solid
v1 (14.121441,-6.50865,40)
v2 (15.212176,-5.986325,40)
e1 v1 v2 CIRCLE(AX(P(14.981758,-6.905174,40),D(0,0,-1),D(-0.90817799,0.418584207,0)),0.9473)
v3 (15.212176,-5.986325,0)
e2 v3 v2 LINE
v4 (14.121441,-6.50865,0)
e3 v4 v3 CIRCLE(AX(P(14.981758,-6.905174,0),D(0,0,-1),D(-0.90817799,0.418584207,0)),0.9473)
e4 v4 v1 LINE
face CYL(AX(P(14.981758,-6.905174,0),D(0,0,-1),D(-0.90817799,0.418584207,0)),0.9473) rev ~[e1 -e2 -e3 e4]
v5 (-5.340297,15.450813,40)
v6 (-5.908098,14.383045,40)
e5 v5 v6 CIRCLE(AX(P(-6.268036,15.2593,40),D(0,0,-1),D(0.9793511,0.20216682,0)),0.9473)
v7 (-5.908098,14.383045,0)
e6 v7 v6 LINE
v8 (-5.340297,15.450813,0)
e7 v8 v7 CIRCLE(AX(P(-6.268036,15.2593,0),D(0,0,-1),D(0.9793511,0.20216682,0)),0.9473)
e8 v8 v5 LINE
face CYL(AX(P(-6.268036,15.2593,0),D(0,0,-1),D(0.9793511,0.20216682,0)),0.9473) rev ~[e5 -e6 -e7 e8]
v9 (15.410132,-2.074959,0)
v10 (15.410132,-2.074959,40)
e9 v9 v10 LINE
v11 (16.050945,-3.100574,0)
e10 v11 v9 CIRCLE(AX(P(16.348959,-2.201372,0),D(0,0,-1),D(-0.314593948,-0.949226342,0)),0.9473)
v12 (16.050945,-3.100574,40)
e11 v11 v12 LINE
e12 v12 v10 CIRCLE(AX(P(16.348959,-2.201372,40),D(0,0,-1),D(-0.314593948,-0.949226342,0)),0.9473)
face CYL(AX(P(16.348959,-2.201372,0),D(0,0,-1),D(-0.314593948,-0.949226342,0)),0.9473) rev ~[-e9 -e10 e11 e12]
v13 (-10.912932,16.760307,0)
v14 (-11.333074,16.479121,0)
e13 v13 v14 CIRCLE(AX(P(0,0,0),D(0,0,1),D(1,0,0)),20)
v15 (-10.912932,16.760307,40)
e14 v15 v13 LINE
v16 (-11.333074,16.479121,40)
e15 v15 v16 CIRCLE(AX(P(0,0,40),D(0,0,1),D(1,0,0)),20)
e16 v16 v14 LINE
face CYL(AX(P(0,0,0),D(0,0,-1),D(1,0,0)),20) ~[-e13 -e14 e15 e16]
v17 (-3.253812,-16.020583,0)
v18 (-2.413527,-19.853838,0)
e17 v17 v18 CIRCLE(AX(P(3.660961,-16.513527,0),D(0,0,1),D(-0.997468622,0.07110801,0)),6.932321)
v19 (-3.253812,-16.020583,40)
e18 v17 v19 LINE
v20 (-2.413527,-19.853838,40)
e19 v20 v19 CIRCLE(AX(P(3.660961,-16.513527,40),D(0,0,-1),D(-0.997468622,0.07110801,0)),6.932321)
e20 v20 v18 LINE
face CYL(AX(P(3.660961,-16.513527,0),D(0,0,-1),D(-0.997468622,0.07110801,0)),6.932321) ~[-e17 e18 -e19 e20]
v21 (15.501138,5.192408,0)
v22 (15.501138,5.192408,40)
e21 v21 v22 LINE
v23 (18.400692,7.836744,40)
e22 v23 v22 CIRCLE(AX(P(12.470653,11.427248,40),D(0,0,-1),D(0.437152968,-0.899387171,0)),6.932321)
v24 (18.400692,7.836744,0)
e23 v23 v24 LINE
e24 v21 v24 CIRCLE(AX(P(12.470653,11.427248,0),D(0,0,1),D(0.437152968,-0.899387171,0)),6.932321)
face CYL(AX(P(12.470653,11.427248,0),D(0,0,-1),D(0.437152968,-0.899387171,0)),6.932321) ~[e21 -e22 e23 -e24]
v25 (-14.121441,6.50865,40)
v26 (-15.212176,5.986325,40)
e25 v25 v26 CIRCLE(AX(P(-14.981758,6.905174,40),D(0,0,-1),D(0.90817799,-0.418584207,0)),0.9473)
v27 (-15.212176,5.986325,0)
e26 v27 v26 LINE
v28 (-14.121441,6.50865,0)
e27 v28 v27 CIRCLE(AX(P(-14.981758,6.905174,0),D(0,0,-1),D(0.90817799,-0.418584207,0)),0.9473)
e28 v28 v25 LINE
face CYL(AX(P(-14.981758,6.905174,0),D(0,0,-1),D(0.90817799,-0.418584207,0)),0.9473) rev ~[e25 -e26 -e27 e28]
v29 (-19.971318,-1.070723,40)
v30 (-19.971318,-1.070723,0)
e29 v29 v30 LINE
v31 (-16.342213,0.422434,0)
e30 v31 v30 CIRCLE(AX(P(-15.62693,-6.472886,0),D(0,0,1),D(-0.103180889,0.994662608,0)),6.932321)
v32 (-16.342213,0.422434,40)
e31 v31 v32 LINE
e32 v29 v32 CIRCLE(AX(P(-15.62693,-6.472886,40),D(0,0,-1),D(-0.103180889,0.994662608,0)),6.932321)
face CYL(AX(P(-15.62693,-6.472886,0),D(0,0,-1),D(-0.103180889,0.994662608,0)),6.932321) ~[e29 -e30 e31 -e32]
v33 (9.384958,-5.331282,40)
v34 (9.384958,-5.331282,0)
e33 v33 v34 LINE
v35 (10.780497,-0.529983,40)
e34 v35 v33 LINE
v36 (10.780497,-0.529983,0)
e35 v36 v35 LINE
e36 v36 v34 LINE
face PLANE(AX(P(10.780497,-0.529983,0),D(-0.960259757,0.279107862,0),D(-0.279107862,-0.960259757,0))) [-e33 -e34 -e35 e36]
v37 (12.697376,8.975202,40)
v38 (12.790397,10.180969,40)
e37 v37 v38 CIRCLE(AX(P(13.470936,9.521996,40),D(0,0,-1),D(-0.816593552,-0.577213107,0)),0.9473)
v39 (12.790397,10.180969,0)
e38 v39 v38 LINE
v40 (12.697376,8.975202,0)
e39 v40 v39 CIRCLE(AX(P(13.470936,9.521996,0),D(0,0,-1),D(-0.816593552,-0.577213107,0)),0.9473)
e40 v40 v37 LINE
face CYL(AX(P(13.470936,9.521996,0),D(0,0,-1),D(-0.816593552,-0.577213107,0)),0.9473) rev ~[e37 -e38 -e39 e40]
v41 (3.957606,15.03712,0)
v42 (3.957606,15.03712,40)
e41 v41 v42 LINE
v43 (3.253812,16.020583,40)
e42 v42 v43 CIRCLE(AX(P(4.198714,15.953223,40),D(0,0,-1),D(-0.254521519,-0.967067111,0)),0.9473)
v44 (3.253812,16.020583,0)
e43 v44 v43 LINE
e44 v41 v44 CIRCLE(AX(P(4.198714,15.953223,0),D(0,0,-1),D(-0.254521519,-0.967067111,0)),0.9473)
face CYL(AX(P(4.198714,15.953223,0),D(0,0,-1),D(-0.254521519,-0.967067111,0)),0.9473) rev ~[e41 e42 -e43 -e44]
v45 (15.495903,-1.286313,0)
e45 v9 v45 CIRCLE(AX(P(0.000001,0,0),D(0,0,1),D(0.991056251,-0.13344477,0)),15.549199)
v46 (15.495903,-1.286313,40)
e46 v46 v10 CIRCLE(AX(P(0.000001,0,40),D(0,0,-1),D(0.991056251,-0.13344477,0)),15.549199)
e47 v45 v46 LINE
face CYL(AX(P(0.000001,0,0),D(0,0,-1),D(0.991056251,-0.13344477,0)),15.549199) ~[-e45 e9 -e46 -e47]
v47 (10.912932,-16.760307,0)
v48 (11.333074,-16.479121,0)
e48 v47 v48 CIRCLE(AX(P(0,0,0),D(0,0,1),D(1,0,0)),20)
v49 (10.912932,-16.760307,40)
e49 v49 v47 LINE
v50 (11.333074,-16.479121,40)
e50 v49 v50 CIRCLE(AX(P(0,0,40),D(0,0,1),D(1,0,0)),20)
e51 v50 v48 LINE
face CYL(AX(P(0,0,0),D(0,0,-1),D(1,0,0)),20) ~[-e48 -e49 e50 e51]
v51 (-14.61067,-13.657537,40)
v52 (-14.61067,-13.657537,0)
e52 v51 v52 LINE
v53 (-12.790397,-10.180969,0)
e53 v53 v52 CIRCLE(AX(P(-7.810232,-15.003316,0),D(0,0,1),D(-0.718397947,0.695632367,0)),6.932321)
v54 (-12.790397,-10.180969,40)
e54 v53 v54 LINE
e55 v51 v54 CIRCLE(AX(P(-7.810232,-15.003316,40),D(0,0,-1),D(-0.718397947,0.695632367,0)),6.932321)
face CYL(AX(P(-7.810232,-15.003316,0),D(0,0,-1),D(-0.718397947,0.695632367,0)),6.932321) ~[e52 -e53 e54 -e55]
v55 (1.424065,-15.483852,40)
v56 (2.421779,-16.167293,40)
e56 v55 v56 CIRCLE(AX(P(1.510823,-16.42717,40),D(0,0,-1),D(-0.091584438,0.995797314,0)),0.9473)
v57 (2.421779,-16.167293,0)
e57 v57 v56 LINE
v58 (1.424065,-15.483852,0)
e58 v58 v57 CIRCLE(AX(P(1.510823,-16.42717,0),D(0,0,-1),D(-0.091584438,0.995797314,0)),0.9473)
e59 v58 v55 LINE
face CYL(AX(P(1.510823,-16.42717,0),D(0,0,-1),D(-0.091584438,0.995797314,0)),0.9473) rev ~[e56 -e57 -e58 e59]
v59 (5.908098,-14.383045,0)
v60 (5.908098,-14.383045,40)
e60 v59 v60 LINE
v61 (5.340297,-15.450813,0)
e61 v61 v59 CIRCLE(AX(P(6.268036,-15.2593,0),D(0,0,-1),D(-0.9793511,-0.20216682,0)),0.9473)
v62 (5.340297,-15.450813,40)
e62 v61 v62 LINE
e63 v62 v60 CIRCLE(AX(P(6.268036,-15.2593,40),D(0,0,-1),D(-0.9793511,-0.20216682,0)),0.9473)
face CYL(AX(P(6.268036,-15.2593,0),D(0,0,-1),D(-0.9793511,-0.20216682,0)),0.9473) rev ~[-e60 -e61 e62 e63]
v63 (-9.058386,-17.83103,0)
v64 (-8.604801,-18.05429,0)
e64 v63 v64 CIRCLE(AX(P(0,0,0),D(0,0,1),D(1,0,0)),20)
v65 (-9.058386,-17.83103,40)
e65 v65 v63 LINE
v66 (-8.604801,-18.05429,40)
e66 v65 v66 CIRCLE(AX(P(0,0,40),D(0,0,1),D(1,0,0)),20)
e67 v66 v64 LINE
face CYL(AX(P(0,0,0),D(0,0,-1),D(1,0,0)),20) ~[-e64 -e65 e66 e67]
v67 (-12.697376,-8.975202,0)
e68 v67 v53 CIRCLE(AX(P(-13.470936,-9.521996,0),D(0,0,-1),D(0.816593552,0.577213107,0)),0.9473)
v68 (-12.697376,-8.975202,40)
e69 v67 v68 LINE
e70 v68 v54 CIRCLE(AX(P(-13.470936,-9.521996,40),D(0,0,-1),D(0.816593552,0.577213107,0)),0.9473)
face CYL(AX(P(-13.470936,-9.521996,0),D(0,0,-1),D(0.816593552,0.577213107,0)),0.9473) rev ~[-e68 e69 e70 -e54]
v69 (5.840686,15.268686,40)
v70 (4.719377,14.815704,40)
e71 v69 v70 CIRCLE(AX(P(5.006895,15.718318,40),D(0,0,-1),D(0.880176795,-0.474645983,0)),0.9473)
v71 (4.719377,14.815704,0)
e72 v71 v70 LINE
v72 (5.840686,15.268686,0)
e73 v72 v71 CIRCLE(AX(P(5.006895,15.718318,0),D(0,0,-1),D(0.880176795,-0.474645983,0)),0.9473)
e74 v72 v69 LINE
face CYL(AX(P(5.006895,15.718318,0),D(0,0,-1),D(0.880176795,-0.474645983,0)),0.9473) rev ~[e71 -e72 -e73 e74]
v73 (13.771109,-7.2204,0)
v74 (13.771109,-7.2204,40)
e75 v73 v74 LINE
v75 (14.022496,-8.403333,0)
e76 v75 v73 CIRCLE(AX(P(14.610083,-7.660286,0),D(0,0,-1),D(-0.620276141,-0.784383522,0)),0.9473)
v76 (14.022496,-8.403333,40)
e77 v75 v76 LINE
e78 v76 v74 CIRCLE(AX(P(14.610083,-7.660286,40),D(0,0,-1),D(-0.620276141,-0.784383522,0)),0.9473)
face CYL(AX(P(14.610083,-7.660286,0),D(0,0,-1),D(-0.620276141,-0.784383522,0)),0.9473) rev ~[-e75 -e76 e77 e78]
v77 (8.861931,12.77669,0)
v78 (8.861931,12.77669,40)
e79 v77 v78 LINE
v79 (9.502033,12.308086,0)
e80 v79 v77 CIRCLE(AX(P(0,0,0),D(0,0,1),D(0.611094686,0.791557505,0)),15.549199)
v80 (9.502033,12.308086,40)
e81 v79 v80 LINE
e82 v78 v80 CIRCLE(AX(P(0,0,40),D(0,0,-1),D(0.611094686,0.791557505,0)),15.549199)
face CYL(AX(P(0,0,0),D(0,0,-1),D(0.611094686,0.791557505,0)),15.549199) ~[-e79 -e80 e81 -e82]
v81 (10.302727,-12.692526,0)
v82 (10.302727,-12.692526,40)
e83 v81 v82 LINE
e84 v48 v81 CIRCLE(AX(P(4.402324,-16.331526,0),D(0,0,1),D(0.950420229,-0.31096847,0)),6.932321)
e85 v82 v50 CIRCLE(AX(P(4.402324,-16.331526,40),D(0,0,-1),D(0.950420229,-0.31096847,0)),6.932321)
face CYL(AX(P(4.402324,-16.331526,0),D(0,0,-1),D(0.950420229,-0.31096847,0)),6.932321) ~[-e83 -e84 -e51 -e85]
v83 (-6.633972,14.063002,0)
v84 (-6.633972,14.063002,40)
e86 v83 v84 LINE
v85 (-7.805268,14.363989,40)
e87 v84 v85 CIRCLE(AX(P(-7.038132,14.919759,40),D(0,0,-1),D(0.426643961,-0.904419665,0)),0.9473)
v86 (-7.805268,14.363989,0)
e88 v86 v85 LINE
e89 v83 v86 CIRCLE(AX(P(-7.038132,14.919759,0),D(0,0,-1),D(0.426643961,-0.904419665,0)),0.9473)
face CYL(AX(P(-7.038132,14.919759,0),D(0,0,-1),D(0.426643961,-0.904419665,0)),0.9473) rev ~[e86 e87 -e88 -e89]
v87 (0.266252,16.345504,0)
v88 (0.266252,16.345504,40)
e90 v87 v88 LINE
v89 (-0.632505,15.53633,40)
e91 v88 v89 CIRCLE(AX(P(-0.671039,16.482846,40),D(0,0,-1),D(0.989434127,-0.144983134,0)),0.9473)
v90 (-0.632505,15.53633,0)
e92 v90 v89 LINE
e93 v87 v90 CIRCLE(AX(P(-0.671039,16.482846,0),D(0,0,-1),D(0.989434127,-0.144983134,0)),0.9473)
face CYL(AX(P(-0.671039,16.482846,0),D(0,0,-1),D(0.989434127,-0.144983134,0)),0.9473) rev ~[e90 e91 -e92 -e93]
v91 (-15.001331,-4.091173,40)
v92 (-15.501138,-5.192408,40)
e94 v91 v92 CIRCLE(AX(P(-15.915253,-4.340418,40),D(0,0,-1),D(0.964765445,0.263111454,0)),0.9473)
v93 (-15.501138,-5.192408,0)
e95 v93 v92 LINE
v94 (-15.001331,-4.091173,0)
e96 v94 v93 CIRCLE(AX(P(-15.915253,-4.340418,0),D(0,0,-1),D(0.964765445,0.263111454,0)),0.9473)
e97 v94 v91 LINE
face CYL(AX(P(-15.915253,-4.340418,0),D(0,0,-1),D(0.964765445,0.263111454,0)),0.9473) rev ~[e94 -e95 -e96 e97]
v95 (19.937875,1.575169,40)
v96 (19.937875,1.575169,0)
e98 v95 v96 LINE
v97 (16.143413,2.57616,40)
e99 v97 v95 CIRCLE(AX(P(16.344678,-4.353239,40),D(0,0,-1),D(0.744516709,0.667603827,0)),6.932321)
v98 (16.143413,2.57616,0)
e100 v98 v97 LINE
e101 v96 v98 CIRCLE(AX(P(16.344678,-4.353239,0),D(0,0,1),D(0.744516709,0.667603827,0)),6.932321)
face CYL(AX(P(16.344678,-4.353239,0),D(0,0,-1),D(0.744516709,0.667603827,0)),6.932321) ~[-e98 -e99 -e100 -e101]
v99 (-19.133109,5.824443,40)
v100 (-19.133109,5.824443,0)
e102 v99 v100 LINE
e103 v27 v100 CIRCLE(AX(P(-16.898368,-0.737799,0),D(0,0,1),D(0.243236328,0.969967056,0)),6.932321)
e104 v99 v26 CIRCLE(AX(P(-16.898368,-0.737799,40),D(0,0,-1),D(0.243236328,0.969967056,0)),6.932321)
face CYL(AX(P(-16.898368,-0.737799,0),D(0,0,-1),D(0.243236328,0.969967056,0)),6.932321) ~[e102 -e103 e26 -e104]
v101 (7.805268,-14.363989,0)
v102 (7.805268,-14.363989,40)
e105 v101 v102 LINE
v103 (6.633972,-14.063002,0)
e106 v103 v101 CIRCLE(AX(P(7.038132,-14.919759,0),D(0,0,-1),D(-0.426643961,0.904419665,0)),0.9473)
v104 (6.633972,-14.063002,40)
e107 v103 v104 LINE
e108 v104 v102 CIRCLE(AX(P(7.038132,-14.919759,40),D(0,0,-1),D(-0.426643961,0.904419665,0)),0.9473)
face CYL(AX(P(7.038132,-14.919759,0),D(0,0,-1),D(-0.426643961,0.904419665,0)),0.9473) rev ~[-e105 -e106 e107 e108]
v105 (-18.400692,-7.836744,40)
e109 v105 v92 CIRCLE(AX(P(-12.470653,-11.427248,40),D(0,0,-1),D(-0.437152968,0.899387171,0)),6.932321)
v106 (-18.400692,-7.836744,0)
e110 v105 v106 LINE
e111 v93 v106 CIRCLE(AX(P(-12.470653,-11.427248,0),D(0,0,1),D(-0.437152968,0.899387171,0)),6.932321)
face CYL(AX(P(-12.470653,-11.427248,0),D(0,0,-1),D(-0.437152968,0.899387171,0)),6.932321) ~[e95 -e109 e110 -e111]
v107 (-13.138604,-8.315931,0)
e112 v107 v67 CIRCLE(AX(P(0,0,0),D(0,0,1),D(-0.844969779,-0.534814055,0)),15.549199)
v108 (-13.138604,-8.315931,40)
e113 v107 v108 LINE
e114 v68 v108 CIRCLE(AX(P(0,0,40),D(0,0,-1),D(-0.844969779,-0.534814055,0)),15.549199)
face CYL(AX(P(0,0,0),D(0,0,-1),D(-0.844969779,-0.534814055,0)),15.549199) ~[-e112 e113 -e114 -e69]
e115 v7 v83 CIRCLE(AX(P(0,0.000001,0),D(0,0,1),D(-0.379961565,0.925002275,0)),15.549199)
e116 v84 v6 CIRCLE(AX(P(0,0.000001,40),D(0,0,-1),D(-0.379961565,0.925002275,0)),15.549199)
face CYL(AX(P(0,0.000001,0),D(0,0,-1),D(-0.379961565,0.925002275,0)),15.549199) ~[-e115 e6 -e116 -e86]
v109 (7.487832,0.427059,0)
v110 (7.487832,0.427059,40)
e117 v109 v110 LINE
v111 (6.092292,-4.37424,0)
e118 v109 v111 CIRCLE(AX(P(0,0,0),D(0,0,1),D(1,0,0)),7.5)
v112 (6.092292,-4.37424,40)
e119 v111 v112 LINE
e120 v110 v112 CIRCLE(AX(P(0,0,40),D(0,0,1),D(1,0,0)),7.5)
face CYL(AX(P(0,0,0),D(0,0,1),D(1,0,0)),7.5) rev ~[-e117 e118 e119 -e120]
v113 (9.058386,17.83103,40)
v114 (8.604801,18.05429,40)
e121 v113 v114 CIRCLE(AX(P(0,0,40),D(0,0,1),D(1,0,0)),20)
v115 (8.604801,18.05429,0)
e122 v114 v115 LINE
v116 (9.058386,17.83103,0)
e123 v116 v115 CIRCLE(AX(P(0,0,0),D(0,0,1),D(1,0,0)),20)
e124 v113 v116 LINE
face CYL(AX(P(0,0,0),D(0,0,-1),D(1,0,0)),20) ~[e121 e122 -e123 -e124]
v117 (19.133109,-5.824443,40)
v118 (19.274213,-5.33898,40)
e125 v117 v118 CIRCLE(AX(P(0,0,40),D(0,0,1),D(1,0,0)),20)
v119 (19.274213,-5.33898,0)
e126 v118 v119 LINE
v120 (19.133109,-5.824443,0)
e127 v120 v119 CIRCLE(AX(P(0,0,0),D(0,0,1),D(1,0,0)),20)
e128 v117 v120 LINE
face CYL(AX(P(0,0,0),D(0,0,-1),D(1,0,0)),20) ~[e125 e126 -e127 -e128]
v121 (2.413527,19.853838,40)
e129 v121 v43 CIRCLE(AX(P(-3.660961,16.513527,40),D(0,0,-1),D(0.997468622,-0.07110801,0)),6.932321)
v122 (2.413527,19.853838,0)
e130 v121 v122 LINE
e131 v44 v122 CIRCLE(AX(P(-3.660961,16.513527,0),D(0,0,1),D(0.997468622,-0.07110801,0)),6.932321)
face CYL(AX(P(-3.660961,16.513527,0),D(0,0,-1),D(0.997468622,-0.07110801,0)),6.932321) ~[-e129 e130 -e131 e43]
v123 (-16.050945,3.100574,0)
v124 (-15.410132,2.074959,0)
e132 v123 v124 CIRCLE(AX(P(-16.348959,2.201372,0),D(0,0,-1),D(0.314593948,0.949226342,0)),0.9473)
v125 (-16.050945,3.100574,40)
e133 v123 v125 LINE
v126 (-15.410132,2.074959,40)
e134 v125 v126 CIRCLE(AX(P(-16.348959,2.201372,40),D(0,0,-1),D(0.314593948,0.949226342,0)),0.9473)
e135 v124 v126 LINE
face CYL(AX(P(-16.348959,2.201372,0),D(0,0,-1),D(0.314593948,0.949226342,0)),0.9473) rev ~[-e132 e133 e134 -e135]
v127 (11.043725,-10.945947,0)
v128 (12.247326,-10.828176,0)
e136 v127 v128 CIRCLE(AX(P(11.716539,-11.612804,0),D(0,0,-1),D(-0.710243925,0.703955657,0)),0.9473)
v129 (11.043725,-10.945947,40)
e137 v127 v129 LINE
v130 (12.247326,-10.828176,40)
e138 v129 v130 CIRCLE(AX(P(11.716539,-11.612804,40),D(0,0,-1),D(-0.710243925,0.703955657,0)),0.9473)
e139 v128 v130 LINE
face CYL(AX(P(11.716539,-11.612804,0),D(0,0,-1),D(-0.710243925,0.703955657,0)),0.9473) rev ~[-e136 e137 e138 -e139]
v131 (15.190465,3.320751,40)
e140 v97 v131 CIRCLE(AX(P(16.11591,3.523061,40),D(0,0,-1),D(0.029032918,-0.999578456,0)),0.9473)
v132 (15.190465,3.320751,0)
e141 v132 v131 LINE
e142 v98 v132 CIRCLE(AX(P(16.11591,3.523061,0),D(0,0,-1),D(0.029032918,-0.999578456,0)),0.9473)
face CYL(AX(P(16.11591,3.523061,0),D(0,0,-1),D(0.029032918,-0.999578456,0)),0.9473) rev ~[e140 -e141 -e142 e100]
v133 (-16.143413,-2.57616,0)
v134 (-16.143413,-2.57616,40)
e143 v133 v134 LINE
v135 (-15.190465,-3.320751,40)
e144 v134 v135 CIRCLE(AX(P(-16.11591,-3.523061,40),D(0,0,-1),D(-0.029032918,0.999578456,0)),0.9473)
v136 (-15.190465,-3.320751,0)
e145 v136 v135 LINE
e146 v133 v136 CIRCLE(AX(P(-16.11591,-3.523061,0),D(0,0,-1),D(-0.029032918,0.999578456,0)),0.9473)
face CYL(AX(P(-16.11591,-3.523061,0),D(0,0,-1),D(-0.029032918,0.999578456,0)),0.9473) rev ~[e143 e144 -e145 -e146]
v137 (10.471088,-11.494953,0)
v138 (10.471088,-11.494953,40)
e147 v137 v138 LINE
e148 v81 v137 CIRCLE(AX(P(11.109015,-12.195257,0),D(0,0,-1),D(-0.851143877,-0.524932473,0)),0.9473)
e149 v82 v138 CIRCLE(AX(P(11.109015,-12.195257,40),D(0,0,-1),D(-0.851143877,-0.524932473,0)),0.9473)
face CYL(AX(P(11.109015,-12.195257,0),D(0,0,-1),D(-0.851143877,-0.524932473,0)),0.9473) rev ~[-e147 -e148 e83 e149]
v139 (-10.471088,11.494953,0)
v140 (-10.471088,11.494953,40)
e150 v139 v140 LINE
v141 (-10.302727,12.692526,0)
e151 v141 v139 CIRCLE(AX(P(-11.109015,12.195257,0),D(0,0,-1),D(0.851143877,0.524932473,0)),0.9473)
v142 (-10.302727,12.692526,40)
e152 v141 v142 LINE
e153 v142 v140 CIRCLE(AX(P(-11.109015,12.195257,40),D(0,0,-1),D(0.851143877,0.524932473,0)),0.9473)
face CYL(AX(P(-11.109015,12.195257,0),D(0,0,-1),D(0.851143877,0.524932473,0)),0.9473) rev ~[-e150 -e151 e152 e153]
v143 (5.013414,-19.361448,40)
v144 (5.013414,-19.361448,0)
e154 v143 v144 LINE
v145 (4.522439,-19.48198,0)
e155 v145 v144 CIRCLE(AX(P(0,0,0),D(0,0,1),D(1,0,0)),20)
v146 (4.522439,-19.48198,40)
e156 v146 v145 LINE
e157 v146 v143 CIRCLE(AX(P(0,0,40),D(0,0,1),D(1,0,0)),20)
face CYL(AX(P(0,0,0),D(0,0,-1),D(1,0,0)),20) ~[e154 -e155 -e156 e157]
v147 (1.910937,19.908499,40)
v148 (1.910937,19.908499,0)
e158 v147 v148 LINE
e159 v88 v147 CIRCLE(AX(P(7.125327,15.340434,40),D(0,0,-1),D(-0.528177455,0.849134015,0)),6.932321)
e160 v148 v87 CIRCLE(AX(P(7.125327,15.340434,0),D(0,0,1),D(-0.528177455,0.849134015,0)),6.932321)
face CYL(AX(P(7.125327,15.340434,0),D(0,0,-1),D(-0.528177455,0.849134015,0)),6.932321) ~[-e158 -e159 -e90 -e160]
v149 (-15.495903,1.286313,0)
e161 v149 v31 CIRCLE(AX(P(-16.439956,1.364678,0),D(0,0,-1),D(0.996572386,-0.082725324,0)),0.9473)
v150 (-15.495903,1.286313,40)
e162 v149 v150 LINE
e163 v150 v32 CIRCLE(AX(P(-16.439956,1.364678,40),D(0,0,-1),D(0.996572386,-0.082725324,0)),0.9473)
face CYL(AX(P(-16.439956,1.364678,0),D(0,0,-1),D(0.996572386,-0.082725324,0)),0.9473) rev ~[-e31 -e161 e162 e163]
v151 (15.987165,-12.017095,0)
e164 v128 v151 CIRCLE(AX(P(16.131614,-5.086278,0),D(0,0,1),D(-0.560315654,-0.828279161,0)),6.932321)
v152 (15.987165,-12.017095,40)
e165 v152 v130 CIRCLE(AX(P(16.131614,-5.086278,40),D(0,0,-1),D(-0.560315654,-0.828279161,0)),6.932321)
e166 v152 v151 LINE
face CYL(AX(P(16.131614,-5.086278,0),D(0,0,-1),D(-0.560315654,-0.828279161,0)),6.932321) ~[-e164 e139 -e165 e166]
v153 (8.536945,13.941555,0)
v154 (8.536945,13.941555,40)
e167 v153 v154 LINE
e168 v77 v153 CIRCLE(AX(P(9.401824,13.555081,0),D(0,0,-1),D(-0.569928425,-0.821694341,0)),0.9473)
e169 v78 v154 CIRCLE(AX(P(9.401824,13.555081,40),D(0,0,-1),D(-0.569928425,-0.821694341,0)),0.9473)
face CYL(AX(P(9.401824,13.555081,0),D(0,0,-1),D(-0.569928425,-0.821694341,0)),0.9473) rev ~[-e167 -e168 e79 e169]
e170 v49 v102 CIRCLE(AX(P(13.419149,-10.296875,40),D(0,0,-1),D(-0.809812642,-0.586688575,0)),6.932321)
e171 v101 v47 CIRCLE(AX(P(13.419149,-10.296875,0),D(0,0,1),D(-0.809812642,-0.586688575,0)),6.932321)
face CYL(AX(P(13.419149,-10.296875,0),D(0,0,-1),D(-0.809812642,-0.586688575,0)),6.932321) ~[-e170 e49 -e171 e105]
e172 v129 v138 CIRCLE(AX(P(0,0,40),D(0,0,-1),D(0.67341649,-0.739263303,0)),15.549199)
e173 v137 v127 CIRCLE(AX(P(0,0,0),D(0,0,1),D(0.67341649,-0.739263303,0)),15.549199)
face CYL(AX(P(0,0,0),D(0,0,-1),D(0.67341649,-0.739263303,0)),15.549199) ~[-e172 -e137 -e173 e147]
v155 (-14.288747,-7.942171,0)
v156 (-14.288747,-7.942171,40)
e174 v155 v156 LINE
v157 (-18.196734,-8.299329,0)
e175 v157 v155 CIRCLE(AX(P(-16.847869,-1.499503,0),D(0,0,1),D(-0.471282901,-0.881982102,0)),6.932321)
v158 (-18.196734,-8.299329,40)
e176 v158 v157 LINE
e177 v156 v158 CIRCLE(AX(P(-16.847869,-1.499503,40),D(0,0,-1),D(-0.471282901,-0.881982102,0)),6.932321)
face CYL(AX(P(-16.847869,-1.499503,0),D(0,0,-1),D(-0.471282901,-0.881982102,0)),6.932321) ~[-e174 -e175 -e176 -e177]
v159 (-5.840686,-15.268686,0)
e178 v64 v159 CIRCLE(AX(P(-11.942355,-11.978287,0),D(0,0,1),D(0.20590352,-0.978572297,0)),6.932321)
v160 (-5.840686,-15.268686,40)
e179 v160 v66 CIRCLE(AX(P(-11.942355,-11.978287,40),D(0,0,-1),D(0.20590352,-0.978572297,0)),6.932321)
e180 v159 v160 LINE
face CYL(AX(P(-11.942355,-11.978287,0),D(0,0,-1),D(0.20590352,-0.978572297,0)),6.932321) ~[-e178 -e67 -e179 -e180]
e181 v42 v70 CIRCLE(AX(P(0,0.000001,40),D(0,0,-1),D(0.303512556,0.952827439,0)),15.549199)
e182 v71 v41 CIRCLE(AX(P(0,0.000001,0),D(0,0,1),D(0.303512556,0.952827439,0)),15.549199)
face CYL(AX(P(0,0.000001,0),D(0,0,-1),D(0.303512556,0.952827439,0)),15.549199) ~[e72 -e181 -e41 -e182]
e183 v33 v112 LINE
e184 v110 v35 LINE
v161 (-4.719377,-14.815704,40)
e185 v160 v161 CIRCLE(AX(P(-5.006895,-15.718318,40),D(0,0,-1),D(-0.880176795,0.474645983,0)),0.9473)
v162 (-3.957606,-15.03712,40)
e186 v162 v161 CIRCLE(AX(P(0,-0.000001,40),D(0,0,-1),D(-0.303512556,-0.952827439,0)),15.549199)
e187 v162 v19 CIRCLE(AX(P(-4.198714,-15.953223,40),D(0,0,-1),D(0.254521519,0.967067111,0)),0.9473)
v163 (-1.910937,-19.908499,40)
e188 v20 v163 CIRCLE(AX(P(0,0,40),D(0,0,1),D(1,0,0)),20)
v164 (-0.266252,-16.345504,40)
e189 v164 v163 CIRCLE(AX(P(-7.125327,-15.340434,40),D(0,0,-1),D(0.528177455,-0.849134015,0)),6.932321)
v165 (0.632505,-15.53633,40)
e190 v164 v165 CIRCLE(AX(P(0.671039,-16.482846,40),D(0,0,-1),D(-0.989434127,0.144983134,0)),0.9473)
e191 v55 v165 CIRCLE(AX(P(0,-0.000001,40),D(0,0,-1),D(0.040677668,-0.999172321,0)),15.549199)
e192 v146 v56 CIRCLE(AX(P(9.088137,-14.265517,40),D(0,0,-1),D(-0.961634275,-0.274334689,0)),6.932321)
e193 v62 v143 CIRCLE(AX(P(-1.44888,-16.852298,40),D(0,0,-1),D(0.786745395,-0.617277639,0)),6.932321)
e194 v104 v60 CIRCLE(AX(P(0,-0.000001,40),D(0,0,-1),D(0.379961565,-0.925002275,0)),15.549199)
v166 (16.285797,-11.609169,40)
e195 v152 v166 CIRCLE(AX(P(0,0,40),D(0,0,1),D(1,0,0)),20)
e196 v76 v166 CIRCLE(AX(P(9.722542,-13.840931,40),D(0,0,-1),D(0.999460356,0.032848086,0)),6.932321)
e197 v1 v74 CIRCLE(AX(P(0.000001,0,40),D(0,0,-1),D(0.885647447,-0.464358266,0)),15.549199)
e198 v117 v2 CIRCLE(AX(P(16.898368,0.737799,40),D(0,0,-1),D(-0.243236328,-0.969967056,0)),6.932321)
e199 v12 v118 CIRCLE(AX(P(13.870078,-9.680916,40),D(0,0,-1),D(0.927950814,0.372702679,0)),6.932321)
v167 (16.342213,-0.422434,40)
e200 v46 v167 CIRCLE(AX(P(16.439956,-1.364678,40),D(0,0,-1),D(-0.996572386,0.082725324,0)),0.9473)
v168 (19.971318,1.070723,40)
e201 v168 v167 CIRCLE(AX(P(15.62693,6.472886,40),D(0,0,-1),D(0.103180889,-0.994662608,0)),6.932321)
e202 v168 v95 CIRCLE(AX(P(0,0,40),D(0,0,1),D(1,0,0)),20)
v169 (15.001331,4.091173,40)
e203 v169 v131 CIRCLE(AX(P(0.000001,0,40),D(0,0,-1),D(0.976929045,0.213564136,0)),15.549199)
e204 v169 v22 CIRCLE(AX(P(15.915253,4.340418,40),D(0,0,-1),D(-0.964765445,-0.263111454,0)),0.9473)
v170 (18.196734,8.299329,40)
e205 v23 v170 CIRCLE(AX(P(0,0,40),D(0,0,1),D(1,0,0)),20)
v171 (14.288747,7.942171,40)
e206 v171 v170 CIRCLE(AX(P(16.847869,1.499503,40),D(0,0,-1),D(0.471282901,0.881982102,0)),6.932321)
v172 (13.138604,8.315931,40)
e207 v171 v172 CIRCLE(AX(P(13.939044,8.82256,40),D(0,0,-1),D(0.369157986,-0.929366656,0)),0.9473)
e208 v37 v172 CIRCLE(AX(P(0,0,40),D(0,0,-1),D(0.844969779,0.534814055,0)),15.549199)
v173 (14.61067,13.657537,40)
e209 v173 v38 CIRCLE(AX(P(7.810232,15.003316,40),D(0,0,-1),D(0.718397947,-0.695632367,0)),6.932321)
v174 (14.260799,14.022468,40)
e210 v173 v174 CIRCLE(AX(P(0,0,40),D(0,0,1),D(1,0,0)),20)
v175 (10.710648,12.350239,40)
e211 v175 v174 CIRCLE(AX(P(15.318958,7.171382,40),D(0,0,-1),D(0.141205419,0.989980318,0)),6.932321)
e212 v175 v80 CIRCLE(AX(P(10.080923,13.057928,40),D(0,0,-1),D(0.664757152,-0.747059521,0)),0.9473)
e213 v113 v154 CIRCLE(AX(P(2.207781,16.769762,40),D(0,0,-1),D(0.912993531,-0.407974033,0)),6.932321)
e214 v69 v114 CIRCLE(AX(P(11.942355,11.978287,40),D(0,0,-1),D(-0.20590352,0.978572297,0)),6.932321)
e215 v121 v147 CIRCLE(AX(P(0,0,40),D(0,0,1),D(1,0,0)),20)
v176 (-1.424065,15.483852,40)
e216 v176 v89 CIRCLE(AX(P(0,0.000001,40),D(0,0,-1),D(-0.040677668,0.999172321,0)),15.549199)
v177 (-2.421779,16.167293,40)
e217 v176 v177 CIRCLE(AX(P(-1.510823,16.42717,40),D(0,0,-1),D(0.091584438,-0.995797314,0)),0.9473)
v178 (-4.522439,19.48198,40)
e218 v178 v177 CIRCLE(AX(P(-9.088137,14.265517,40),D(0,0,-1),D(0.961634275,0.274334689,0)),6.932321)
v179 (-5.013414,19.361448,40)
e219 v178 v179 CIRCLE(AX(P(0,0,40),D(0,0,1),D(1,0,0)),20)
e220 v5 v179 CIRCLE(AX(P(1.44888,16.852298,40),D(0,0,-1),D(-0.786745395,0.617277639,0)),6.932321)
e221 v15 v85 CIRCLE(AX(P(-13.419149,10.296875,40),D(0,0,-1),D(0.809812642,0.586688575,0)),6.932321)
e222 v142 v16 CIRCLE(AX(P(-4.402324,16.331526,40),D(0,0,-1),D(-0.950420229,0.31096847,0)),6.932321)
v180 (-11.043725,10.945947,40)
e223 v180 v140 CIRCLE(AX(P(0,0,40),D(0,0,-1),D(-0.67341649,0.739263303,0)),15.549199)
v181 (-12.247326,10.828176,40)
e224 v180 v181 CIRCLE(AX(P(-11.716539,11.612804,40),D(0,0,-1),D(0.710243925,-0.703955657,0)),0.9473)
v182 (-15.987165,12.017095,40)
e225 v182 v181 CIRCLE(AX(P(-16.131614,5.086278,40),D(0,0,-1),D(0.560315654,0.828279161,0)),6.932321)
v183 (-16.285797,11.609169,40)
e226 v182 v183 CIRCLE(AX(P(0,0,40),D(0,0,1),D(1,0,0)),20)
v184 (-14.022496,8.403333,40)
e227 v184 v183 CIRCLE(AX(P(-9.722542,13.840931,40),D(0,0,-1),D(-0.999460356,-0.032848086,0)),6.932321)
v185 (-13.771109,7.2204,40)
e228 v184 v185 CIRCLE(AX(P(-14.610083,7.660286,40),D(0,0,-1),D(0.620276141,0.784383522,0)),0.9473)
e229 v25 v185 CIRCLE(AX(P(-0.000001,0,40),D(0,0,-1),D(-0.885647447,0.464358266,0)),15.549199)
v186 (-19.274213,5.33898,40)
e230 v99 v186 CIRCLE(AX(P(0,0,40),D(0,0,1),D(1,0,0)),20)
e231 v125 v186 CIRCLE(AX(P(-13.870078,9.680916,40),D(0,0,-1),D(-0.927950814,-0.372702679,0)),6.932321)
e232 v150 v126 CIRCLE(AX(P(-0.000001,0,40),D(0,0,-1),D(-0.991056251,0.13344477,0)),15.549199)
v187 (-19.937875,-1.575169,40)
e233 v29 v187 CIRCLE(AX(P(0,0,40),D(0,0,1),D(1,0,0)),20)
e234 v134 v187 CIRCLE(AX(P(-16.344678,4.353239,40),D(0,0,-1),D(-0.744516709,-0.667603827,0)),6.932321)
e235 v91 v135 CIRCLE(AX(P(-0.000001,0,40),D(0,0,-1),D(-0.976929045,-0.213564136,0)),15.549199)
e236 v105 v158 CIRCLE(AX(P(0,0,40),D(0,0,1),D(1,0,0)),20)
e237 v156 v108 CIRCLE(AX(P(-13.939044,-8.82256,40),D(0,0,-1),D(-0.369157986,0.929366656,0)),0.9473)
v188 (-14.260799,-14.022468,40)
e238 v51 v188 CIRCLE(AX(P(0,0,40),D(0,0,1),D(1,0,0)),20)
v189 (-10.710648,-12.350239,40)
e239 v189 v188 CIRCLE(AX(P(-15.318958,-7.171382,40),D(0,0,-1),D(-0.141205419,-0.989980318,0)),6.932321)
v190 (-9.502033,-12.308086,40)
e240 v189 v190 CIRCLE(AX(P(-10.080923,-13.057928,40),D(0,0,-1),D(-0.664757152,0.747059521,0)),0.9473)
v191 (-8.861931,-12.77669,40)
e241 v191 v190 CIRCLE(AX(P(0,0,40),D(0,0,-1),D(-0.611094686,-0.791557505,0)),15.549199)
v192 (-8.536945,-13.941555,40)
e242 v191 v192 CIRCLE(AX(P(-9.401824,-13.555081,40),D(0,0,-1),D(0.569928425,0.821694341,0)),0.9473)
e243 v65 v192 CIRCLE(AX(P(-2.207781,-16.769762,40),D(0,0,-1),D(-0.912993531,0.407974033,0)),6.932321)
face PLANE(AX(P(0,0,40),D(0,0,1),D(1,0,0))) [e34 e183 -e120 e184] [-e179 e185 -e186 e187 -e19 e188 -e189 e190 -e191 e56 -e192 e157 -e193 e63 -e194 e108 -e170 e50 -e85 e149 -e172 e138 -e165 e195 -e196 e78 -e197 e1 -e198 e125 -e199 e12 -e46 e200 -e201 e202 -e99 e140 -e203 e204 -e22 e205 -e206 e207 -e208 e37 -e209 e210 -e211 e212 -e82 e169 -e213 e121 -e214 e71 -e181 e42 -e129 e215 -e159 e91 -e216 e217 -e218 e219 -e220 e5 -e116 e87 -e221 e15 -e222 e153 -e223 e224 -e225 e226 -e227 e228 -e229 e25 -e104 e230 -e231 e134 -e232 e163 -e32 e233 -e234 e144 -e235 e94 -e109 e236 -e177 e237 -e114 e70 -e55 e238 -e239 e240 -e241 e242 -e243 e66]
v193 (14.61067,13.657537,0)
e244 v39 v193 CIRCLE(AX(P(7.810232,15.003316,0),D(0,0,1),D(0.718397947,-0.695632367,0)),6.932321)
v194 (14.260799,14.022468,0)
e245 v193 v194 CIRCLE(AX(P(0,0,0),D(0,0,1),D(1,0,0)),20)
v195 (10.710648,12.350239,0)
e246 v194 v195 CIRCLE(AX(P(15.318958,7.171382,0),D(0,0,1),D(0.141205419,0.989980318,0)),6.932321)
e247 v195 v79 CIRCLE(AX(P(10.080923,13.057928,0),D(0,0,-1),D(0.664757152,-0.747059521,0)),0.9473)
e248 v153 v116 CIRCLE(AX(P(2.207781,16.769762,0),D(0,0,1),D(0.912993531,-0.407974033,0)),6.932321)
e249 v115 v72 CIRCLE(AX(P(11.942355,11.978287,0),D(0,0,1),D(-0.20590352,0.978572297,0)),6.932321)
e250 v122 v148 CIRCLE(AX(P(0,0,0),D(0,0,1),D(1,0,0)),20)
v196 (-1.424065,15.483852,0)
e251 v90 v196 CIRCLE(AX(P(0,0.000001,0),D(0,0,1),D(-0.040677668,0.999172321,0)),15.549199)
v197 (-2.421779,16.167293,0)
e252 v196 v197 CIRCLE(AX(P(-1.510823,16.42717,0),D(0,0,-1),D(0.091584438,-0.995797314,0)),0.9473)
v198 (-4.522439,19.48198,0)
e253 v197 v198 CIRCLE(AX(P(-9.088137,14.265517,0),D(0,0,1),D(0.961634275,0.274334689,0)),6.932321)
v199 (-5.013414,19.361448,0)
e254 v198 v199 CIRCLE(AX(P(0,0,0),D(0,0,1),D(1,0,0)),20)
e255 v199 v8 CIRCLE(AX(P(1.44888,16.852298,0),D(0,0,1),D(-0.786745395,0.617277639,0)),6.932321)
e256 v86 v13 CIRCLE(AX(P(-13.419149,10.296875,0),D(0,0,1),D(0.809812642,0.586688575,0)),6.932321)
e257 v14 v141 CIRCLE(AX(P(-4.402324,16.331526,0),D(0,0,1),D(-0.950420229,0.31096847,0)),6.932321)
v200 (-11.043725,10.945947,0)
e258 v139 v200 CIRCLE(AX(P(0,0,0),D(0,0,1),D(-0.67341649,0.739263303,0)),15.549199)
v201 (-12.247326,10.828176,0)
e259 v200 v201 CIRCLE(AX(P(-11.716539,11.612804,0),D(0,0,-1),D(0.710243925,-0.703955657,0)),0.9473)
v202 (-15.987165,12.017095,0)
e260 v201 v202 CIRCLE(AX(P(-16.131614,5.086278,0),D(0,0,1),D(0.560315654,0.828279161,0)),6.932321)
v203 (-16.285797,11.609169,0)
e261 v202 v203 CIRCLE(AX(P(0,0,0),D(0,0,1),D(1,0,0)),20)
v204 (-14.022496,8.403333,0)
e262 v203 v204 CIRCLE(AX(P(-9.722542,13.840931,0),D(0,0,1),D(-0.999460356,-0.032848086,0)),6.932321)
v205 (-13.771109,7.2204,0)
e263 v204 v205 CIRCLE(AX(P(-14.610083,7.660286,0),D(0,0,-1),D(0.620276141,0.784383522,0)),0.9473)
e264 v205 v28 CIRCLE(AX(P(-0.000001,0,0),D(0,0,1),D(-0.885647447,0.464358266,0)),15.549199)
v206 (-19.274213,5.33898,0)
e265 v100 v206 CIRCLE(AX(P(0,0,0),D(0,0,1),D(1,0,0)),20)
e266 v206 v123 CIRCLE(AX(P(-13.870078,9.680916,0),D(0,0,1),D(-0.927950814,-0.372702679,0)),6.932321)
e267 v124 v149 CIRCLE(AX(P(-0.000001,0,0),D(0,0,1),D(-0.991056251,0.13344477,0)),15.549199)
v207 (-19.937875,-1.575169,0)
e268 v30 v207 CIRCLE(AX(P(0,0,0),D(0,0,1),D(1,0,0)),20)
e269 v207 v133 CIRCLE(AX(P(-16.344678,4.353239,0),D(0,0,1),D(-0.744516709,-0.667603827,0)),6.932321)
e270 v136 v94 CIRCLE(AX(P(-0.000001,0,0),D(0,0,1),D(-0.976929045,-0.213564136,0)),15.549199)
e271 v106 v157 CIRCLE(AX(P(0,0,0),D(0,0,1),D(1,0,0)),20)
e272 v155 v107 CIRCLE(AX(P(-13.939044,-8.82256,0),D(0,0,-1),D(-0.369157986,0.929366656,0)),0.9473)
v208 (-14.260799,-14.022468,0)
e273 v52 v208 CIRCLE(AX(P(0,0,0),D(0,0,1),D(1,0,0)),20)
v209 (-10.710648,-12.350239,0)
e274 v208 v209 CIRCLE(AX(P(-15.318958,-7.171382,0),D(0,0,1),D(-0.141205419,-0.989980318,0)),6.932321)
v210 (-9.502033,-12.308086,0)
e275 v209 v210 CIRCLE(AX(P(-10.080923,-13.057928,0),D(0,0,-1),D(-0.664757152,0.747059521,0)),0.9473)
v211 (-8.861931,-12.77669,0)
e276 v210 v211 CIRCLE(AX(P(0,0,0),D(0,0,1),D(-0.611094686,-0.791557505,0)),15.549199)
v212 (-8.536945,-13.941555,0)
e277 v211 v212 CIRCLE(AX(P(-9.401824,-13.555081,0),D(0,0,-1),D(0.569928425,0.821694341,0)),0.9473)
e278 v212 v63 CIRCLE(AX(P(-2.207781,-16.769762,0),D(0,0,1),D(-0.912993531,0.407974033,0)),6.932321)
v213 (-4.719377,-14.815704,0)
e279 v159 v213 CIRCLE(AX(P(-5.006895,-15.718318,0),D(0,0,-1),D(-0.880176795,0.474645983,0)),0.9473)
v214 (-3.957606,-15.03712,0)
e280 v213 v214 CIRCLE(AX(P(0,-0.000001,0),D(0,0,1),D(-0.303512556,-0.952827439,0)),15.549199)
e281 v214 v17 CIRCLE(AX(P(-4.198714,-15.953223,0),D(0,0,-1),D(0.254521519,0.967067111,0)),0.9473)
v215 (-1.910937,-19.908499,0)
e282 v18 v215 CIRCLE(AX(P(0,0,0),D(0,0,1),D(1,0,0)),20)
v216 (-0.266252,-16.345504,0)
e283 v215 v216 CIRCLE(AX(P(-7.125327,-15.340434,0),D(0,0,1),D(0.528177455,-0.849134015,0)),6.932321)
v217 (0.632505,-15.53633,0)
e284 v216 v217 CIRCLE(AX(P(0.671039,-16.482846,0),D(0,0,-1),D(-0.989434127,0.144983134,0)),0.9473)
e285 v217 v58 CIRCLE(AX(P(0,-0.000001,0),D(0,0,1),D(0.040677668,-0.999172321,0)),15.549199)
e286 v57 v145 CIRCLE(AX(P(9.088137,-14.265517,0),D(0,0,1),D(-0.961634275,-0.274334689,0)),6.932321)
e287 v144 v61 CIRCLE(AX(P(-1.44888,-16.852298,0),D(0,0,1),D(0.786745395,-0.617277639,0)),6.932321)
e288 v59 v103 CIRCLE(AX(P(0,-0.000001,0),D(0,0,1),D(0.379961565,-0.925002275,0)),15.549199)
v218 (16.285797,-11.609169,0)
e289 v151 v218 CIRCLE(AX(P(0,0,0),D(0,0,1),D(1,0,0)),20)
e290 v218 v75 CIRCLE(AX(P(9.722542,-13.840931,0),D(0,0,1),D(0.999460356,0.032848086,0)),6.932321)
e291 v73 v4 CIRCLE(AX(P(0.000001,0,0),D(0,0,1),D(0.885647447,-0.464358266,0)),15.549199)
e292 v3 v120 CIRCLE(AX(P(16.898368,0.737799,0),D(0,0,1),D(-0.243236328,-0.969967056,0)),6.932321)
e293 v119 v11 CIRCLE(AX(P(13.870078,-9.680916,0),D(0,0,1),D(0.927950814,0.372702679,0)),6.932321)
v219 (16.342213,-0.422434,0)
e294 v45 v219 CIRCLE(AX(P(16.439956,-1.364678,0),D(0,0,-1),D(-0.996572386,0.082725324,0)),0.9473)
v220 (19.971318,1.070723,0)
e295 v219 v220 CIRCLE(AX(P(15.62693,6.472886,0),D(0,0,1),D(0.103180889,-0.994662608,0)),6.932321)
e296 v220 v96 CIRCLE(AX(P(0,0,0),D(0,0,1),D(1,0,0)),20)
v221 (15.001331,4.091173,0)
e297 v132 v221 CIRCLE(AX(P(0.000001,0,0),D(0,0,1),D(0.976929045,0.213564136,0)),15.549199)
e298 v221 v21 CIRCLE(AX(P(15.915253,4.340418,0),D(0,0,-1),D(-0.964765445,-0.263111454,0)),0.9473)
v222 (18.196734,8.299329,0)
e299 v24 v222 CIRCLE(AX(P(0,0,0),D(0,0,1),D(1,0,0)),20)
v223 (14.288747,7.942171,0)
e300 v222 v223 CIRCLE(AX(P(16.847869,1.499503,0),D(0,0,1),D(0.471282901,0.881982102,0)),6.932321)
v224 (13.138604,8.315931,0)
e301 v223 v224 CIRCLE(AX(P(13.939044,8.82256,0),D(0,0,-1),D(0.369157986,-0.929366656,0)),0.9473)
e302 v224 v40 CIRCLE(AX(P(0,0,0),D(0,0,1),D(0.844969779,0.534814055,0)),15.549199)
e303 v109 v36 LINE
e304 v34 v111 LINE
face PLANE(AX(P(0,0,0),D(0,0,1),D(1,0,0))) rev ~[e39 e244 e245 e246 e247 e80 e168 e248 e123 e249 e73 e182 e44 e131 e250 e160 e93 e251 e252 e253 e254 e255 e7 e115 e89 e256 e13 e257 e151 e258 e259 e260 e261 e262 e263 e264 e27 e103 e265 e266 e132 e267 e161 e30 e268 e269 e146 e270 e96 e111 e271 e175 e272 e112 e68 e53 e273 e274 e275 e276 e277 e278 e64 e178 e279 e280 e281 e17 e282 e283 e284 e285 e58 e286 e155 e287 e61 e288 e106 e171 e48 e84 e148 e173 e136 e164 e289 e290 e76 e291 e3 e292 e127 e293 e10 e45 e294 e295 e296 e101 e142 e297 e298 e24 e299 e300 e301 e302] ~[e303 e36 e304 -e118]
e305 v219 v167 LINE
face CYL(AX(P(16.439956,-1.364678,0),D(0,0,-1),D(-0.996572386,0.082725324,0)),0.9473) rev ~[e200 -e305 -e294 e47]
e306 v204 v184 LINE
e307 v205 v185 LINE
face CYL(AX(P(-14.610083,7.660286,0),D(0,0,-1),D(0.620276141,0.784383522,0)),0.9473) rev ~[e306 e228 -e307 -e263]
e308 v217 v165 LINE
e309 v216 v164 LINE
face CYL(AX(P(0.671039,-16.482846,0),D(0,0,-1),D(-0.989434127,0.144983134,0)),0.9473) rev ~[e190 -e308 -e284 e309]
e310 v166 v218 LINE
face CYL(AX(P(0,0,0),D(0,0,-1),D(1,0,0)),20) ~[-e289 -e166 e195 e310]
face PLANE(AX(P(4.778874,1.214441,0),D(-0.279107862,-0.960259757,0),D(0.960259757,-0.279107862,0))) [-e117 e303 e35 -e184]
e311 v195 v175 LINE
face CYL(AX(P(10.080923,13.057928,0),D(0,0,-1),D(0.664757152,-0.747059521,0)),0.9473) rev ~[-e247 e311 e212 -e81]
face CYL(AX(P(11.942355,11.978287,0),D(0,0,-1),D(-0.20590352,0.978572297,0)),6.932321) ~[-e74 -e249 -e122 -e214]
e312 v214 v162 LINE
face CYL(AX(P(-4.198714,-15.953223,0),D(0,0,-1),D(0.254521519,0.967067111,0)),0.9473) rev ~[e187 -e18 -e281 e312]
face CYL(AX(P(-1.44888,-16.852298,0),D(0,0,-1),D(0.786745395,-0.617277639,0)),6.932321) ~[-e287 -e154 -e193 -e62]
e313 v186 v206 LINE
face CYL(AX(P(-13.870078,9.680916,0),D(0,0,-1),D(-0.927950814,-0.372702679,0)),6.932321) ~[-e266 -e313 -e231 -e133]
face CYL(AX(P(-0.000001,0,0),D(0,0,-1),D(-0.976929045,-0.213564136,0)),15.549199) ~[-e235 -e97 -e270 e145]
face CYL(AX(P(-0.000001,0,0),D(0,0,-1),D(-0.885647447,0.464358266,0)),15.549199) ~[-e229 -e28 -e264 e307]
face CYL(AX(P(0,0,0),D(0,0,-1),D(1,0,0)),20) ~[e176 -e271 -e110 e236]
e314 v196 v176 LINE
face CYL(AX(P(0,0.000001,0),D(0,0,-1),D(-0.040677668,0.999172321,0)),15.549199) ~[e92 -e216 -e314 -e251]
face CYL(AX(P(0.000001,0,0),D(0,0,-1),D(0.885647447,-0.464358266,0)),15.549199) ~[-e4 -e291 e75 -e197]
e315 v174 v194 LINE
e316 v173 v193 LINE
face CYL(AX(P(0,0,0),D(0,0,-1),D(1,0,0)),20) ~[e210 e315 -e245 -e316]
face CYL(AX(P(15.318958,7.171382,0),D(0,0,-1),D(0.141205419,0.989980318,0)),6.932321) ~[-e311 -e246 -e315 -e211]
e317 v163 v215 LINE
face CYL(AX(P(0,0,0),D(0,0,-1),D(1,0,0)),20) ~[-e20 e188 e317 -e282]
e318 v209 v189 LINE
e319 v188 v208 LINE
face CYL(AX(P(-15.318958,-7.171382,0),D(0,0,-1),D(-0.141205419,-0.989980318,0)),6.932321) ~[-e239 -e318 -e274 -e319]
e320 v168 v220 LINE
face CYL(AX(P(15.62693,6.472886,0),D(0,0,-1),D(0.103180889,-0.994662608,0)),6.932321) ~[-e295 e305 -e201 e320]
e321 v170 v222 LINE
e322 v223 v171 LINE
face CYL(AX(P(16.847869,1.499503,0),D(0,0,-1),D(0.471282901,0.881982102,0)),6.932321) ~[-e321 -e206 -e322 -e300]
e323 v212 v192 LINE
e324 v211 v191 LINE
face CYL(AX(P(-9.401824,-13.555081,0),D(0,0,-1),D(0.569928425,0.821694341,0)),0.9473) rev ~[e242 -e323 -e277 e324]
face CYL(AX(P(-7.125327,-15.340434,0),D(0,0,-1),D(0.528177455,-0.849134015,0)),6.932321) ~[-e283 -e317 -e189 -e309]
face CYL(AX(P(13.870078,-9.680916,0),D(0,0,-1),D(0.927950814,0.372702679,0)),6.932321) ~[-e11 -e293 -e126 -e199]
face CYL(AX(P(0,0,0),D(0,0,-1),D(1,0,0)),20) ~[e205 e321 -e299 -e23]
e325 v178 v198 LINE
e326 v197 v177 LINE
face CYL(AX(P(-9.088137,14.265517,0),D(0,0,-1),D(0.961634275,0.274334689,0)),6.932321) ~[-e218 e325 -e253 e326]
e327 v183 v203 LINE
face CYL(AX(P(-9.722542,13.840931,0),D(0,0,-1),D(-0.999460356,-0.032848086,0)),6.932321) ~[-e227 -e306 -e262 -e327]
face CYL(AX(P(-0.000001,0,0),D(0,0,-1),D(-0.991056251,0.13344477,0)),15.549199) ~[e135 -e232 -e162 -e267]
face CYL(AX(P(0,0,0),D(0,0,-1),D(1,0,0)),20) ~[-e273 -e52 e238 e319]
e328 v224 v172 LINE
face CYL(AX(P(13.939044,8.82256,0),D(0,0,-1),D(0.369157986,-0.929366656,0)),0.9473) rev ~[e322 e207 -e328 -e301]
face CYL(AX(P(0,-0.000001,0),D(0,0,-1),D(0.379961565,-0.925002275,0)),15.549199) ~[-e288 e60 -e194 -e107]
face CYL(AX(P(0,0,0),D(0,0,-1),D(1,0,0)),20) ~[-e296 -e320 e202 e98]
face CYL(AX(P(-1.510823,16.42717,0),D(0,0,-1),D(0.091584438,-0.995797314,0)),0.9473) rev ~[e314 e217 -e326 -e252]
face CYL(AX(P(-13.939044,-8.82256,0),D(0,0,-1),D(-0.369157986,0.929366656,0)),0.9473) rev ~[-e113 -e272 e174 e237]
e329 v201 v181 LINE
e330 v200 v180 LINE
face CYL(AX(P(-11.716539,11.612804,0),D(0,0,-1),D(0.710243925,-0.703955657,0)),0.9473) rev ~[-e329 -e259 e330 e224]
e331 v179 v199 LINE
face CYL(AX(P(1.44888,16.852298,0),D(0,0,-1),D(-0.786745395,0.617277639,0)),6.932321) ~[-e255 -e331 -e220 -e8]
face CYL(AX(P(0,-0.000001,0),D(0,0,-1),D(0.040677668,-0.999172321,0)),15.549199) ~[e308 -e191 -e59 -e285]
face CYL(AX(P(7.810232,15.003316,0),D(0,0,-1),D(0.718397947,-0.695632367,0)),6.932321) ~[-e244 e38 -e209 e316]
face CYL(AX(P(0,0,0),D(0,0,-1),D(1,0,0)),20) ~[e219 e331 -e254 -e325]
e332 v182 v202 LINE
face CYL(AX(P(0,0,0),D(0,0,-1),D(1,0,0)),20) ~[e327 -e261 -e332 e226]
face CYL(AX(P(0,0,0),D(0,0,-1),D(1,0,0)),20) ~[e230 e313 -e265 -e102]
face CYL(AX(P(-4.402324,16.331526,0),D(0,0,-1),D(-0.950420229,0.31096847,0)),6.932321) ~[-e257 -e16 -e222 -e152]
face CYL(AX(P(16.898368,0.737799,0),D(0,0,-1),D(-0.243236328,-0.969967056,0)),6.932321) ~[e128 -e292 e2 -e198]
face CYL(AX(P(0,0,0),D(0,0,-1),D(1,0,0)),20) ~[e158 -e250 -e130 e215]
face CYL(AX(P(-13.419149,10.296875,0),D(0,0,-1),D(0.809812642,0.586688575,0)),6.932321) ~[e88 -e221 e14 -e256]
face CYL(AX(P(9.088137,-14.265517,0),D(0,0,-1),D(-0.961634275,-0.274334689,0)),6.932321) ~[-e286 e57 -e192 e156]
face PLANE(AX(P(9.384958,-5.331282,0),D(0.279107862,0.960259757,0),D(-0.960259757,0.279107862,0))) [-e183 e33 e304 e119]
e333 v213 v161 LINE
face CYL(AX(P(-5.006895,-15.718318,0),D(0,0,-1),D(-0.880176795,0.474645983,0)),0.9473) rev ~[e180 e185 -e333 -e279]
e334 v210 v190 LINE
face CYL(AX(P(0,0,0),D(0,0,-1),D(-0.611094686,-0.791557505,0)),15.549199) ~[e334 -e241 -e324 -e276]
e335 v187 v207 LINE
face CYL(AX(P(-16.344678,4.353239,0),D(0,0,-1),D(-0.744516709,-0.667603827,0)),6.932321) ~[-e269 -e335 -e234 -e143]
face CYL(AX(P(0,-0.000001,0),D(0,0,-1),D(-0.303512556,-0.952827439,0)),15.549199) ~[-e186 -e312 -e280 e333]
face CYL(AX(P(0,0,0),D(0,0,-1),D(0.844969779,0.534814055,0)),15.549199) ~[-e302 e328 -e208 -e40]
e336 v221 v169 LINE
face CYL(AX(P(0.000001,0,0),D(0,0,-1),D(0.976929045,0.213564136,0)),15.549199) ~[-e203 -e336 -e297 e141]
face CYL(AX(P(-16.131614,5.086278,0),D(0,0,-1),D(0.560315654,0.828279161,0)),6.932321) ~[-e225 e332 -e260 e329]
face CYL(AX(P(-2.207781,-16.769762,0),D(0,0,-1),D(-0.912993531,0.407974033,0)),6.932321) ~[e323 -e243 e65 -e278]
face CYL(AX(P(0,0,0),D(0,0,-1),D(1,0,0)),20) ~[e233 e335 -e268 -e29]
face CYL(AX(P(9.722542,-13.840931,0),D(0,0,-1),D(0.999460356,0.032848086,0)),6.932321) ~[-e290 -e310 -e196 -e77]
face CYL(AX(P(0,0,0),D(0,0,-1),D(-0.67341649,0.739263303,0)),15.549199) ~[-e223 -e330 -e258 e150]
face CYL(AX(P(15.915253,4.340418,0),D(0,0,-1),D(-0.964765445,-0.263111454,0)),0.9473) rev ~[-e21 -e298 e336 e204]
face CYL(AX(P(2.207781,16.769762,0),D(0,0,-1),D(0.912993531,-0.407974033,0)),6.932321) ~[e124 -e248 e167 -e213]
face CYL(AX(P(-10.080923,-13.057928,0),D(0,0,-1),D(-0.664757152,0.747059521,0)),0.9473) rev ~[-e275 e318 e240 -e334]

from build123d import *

# Parameters (mm, degrees)
SKETCH3_R         = 20
GEARBODY_DEPTH    = 40
TOOTHCUT_DEPTH    = 49.989794856
CIRPATTERN1_COUNT = 18
BOREDIA_R         = 7.5
BORE_DEPTH        = 12700
KWY1_DEPTH        = 6350


with BuildPart() as part:
    # Sketch3 → gearBody (new body)
    with BuildSketch(Plane.XY):
        Circle(SKETCH3_R)
    extrude(amount=GEARBODY_DEPTH)

    # Sketch2 → toothCut (cut, through all)
    with BuildSketch(Plane.XY):
        with BuildLine():
            ThreePointArc((15.410131867, -2.074959393), (15.458047875, -1.681183079), (15.495903347, -1.286312602))
            ThreePointArc((15.495903347, -1.286312602), (15.763268662, -0.701752182), (16.342213115, -0.422434409))
            ThreePointArc((16.342213115, -0.422434409), (19.177928805, 0.519107216), (21.353959141, 2.566709737))
            ThreePointArc((21.353959141, 2.566709737), (21.381581374, -2.325413473), (20.302931423, -7.097220969))
            ThreePointArc((20.302931423, -7.097220969), (18.617955496, -4.629703952), (16.050944608, -3.100573739))
            ThreePointArc((16.050944608, -3.100573739), (15.545581587, -2.703329086), (15.410131867, -2.074959393))
        make_face()
    toothcut = extrude(amount=TOOTHCUT_DEPTH, mode=Mode.SUBTRACT)

    # CirPattern1: toothCut ×18 about axis
    cirpattern1_axis = Axis((0, 0, 40), (0, 0, -1))
    for i in range(1, CIRPATTERN1_COUNT):
        add(toothcut.rotate(cirpattern1_axis, i * 360 / CIRPATTERN1_COUNT), mode=Mode.SUBTRACT)

    # boreDia → bore (cut, symmetric)
    with BuildSketch(Plane.XY):
        Circle(BOREDIA_R)
    extrude(amount=BORE_DEPTH, both=True, mode=Mode.SUBTRACT)

    # kwy1sketch → kwy1 (cut, symmetric)
    with BuildSketch(Plane.XY):
        Polygon((10.780497106, -0.529983162), (9.384957794, -5.331281948), (3.383334312, -3.586857808), (0, 0), (4.778873624, 1.214440978), align=None)
    extrude(amount=KWY1_DEPTH, both=True, mode=Mode.SUBTRACT)


solid = part.part
